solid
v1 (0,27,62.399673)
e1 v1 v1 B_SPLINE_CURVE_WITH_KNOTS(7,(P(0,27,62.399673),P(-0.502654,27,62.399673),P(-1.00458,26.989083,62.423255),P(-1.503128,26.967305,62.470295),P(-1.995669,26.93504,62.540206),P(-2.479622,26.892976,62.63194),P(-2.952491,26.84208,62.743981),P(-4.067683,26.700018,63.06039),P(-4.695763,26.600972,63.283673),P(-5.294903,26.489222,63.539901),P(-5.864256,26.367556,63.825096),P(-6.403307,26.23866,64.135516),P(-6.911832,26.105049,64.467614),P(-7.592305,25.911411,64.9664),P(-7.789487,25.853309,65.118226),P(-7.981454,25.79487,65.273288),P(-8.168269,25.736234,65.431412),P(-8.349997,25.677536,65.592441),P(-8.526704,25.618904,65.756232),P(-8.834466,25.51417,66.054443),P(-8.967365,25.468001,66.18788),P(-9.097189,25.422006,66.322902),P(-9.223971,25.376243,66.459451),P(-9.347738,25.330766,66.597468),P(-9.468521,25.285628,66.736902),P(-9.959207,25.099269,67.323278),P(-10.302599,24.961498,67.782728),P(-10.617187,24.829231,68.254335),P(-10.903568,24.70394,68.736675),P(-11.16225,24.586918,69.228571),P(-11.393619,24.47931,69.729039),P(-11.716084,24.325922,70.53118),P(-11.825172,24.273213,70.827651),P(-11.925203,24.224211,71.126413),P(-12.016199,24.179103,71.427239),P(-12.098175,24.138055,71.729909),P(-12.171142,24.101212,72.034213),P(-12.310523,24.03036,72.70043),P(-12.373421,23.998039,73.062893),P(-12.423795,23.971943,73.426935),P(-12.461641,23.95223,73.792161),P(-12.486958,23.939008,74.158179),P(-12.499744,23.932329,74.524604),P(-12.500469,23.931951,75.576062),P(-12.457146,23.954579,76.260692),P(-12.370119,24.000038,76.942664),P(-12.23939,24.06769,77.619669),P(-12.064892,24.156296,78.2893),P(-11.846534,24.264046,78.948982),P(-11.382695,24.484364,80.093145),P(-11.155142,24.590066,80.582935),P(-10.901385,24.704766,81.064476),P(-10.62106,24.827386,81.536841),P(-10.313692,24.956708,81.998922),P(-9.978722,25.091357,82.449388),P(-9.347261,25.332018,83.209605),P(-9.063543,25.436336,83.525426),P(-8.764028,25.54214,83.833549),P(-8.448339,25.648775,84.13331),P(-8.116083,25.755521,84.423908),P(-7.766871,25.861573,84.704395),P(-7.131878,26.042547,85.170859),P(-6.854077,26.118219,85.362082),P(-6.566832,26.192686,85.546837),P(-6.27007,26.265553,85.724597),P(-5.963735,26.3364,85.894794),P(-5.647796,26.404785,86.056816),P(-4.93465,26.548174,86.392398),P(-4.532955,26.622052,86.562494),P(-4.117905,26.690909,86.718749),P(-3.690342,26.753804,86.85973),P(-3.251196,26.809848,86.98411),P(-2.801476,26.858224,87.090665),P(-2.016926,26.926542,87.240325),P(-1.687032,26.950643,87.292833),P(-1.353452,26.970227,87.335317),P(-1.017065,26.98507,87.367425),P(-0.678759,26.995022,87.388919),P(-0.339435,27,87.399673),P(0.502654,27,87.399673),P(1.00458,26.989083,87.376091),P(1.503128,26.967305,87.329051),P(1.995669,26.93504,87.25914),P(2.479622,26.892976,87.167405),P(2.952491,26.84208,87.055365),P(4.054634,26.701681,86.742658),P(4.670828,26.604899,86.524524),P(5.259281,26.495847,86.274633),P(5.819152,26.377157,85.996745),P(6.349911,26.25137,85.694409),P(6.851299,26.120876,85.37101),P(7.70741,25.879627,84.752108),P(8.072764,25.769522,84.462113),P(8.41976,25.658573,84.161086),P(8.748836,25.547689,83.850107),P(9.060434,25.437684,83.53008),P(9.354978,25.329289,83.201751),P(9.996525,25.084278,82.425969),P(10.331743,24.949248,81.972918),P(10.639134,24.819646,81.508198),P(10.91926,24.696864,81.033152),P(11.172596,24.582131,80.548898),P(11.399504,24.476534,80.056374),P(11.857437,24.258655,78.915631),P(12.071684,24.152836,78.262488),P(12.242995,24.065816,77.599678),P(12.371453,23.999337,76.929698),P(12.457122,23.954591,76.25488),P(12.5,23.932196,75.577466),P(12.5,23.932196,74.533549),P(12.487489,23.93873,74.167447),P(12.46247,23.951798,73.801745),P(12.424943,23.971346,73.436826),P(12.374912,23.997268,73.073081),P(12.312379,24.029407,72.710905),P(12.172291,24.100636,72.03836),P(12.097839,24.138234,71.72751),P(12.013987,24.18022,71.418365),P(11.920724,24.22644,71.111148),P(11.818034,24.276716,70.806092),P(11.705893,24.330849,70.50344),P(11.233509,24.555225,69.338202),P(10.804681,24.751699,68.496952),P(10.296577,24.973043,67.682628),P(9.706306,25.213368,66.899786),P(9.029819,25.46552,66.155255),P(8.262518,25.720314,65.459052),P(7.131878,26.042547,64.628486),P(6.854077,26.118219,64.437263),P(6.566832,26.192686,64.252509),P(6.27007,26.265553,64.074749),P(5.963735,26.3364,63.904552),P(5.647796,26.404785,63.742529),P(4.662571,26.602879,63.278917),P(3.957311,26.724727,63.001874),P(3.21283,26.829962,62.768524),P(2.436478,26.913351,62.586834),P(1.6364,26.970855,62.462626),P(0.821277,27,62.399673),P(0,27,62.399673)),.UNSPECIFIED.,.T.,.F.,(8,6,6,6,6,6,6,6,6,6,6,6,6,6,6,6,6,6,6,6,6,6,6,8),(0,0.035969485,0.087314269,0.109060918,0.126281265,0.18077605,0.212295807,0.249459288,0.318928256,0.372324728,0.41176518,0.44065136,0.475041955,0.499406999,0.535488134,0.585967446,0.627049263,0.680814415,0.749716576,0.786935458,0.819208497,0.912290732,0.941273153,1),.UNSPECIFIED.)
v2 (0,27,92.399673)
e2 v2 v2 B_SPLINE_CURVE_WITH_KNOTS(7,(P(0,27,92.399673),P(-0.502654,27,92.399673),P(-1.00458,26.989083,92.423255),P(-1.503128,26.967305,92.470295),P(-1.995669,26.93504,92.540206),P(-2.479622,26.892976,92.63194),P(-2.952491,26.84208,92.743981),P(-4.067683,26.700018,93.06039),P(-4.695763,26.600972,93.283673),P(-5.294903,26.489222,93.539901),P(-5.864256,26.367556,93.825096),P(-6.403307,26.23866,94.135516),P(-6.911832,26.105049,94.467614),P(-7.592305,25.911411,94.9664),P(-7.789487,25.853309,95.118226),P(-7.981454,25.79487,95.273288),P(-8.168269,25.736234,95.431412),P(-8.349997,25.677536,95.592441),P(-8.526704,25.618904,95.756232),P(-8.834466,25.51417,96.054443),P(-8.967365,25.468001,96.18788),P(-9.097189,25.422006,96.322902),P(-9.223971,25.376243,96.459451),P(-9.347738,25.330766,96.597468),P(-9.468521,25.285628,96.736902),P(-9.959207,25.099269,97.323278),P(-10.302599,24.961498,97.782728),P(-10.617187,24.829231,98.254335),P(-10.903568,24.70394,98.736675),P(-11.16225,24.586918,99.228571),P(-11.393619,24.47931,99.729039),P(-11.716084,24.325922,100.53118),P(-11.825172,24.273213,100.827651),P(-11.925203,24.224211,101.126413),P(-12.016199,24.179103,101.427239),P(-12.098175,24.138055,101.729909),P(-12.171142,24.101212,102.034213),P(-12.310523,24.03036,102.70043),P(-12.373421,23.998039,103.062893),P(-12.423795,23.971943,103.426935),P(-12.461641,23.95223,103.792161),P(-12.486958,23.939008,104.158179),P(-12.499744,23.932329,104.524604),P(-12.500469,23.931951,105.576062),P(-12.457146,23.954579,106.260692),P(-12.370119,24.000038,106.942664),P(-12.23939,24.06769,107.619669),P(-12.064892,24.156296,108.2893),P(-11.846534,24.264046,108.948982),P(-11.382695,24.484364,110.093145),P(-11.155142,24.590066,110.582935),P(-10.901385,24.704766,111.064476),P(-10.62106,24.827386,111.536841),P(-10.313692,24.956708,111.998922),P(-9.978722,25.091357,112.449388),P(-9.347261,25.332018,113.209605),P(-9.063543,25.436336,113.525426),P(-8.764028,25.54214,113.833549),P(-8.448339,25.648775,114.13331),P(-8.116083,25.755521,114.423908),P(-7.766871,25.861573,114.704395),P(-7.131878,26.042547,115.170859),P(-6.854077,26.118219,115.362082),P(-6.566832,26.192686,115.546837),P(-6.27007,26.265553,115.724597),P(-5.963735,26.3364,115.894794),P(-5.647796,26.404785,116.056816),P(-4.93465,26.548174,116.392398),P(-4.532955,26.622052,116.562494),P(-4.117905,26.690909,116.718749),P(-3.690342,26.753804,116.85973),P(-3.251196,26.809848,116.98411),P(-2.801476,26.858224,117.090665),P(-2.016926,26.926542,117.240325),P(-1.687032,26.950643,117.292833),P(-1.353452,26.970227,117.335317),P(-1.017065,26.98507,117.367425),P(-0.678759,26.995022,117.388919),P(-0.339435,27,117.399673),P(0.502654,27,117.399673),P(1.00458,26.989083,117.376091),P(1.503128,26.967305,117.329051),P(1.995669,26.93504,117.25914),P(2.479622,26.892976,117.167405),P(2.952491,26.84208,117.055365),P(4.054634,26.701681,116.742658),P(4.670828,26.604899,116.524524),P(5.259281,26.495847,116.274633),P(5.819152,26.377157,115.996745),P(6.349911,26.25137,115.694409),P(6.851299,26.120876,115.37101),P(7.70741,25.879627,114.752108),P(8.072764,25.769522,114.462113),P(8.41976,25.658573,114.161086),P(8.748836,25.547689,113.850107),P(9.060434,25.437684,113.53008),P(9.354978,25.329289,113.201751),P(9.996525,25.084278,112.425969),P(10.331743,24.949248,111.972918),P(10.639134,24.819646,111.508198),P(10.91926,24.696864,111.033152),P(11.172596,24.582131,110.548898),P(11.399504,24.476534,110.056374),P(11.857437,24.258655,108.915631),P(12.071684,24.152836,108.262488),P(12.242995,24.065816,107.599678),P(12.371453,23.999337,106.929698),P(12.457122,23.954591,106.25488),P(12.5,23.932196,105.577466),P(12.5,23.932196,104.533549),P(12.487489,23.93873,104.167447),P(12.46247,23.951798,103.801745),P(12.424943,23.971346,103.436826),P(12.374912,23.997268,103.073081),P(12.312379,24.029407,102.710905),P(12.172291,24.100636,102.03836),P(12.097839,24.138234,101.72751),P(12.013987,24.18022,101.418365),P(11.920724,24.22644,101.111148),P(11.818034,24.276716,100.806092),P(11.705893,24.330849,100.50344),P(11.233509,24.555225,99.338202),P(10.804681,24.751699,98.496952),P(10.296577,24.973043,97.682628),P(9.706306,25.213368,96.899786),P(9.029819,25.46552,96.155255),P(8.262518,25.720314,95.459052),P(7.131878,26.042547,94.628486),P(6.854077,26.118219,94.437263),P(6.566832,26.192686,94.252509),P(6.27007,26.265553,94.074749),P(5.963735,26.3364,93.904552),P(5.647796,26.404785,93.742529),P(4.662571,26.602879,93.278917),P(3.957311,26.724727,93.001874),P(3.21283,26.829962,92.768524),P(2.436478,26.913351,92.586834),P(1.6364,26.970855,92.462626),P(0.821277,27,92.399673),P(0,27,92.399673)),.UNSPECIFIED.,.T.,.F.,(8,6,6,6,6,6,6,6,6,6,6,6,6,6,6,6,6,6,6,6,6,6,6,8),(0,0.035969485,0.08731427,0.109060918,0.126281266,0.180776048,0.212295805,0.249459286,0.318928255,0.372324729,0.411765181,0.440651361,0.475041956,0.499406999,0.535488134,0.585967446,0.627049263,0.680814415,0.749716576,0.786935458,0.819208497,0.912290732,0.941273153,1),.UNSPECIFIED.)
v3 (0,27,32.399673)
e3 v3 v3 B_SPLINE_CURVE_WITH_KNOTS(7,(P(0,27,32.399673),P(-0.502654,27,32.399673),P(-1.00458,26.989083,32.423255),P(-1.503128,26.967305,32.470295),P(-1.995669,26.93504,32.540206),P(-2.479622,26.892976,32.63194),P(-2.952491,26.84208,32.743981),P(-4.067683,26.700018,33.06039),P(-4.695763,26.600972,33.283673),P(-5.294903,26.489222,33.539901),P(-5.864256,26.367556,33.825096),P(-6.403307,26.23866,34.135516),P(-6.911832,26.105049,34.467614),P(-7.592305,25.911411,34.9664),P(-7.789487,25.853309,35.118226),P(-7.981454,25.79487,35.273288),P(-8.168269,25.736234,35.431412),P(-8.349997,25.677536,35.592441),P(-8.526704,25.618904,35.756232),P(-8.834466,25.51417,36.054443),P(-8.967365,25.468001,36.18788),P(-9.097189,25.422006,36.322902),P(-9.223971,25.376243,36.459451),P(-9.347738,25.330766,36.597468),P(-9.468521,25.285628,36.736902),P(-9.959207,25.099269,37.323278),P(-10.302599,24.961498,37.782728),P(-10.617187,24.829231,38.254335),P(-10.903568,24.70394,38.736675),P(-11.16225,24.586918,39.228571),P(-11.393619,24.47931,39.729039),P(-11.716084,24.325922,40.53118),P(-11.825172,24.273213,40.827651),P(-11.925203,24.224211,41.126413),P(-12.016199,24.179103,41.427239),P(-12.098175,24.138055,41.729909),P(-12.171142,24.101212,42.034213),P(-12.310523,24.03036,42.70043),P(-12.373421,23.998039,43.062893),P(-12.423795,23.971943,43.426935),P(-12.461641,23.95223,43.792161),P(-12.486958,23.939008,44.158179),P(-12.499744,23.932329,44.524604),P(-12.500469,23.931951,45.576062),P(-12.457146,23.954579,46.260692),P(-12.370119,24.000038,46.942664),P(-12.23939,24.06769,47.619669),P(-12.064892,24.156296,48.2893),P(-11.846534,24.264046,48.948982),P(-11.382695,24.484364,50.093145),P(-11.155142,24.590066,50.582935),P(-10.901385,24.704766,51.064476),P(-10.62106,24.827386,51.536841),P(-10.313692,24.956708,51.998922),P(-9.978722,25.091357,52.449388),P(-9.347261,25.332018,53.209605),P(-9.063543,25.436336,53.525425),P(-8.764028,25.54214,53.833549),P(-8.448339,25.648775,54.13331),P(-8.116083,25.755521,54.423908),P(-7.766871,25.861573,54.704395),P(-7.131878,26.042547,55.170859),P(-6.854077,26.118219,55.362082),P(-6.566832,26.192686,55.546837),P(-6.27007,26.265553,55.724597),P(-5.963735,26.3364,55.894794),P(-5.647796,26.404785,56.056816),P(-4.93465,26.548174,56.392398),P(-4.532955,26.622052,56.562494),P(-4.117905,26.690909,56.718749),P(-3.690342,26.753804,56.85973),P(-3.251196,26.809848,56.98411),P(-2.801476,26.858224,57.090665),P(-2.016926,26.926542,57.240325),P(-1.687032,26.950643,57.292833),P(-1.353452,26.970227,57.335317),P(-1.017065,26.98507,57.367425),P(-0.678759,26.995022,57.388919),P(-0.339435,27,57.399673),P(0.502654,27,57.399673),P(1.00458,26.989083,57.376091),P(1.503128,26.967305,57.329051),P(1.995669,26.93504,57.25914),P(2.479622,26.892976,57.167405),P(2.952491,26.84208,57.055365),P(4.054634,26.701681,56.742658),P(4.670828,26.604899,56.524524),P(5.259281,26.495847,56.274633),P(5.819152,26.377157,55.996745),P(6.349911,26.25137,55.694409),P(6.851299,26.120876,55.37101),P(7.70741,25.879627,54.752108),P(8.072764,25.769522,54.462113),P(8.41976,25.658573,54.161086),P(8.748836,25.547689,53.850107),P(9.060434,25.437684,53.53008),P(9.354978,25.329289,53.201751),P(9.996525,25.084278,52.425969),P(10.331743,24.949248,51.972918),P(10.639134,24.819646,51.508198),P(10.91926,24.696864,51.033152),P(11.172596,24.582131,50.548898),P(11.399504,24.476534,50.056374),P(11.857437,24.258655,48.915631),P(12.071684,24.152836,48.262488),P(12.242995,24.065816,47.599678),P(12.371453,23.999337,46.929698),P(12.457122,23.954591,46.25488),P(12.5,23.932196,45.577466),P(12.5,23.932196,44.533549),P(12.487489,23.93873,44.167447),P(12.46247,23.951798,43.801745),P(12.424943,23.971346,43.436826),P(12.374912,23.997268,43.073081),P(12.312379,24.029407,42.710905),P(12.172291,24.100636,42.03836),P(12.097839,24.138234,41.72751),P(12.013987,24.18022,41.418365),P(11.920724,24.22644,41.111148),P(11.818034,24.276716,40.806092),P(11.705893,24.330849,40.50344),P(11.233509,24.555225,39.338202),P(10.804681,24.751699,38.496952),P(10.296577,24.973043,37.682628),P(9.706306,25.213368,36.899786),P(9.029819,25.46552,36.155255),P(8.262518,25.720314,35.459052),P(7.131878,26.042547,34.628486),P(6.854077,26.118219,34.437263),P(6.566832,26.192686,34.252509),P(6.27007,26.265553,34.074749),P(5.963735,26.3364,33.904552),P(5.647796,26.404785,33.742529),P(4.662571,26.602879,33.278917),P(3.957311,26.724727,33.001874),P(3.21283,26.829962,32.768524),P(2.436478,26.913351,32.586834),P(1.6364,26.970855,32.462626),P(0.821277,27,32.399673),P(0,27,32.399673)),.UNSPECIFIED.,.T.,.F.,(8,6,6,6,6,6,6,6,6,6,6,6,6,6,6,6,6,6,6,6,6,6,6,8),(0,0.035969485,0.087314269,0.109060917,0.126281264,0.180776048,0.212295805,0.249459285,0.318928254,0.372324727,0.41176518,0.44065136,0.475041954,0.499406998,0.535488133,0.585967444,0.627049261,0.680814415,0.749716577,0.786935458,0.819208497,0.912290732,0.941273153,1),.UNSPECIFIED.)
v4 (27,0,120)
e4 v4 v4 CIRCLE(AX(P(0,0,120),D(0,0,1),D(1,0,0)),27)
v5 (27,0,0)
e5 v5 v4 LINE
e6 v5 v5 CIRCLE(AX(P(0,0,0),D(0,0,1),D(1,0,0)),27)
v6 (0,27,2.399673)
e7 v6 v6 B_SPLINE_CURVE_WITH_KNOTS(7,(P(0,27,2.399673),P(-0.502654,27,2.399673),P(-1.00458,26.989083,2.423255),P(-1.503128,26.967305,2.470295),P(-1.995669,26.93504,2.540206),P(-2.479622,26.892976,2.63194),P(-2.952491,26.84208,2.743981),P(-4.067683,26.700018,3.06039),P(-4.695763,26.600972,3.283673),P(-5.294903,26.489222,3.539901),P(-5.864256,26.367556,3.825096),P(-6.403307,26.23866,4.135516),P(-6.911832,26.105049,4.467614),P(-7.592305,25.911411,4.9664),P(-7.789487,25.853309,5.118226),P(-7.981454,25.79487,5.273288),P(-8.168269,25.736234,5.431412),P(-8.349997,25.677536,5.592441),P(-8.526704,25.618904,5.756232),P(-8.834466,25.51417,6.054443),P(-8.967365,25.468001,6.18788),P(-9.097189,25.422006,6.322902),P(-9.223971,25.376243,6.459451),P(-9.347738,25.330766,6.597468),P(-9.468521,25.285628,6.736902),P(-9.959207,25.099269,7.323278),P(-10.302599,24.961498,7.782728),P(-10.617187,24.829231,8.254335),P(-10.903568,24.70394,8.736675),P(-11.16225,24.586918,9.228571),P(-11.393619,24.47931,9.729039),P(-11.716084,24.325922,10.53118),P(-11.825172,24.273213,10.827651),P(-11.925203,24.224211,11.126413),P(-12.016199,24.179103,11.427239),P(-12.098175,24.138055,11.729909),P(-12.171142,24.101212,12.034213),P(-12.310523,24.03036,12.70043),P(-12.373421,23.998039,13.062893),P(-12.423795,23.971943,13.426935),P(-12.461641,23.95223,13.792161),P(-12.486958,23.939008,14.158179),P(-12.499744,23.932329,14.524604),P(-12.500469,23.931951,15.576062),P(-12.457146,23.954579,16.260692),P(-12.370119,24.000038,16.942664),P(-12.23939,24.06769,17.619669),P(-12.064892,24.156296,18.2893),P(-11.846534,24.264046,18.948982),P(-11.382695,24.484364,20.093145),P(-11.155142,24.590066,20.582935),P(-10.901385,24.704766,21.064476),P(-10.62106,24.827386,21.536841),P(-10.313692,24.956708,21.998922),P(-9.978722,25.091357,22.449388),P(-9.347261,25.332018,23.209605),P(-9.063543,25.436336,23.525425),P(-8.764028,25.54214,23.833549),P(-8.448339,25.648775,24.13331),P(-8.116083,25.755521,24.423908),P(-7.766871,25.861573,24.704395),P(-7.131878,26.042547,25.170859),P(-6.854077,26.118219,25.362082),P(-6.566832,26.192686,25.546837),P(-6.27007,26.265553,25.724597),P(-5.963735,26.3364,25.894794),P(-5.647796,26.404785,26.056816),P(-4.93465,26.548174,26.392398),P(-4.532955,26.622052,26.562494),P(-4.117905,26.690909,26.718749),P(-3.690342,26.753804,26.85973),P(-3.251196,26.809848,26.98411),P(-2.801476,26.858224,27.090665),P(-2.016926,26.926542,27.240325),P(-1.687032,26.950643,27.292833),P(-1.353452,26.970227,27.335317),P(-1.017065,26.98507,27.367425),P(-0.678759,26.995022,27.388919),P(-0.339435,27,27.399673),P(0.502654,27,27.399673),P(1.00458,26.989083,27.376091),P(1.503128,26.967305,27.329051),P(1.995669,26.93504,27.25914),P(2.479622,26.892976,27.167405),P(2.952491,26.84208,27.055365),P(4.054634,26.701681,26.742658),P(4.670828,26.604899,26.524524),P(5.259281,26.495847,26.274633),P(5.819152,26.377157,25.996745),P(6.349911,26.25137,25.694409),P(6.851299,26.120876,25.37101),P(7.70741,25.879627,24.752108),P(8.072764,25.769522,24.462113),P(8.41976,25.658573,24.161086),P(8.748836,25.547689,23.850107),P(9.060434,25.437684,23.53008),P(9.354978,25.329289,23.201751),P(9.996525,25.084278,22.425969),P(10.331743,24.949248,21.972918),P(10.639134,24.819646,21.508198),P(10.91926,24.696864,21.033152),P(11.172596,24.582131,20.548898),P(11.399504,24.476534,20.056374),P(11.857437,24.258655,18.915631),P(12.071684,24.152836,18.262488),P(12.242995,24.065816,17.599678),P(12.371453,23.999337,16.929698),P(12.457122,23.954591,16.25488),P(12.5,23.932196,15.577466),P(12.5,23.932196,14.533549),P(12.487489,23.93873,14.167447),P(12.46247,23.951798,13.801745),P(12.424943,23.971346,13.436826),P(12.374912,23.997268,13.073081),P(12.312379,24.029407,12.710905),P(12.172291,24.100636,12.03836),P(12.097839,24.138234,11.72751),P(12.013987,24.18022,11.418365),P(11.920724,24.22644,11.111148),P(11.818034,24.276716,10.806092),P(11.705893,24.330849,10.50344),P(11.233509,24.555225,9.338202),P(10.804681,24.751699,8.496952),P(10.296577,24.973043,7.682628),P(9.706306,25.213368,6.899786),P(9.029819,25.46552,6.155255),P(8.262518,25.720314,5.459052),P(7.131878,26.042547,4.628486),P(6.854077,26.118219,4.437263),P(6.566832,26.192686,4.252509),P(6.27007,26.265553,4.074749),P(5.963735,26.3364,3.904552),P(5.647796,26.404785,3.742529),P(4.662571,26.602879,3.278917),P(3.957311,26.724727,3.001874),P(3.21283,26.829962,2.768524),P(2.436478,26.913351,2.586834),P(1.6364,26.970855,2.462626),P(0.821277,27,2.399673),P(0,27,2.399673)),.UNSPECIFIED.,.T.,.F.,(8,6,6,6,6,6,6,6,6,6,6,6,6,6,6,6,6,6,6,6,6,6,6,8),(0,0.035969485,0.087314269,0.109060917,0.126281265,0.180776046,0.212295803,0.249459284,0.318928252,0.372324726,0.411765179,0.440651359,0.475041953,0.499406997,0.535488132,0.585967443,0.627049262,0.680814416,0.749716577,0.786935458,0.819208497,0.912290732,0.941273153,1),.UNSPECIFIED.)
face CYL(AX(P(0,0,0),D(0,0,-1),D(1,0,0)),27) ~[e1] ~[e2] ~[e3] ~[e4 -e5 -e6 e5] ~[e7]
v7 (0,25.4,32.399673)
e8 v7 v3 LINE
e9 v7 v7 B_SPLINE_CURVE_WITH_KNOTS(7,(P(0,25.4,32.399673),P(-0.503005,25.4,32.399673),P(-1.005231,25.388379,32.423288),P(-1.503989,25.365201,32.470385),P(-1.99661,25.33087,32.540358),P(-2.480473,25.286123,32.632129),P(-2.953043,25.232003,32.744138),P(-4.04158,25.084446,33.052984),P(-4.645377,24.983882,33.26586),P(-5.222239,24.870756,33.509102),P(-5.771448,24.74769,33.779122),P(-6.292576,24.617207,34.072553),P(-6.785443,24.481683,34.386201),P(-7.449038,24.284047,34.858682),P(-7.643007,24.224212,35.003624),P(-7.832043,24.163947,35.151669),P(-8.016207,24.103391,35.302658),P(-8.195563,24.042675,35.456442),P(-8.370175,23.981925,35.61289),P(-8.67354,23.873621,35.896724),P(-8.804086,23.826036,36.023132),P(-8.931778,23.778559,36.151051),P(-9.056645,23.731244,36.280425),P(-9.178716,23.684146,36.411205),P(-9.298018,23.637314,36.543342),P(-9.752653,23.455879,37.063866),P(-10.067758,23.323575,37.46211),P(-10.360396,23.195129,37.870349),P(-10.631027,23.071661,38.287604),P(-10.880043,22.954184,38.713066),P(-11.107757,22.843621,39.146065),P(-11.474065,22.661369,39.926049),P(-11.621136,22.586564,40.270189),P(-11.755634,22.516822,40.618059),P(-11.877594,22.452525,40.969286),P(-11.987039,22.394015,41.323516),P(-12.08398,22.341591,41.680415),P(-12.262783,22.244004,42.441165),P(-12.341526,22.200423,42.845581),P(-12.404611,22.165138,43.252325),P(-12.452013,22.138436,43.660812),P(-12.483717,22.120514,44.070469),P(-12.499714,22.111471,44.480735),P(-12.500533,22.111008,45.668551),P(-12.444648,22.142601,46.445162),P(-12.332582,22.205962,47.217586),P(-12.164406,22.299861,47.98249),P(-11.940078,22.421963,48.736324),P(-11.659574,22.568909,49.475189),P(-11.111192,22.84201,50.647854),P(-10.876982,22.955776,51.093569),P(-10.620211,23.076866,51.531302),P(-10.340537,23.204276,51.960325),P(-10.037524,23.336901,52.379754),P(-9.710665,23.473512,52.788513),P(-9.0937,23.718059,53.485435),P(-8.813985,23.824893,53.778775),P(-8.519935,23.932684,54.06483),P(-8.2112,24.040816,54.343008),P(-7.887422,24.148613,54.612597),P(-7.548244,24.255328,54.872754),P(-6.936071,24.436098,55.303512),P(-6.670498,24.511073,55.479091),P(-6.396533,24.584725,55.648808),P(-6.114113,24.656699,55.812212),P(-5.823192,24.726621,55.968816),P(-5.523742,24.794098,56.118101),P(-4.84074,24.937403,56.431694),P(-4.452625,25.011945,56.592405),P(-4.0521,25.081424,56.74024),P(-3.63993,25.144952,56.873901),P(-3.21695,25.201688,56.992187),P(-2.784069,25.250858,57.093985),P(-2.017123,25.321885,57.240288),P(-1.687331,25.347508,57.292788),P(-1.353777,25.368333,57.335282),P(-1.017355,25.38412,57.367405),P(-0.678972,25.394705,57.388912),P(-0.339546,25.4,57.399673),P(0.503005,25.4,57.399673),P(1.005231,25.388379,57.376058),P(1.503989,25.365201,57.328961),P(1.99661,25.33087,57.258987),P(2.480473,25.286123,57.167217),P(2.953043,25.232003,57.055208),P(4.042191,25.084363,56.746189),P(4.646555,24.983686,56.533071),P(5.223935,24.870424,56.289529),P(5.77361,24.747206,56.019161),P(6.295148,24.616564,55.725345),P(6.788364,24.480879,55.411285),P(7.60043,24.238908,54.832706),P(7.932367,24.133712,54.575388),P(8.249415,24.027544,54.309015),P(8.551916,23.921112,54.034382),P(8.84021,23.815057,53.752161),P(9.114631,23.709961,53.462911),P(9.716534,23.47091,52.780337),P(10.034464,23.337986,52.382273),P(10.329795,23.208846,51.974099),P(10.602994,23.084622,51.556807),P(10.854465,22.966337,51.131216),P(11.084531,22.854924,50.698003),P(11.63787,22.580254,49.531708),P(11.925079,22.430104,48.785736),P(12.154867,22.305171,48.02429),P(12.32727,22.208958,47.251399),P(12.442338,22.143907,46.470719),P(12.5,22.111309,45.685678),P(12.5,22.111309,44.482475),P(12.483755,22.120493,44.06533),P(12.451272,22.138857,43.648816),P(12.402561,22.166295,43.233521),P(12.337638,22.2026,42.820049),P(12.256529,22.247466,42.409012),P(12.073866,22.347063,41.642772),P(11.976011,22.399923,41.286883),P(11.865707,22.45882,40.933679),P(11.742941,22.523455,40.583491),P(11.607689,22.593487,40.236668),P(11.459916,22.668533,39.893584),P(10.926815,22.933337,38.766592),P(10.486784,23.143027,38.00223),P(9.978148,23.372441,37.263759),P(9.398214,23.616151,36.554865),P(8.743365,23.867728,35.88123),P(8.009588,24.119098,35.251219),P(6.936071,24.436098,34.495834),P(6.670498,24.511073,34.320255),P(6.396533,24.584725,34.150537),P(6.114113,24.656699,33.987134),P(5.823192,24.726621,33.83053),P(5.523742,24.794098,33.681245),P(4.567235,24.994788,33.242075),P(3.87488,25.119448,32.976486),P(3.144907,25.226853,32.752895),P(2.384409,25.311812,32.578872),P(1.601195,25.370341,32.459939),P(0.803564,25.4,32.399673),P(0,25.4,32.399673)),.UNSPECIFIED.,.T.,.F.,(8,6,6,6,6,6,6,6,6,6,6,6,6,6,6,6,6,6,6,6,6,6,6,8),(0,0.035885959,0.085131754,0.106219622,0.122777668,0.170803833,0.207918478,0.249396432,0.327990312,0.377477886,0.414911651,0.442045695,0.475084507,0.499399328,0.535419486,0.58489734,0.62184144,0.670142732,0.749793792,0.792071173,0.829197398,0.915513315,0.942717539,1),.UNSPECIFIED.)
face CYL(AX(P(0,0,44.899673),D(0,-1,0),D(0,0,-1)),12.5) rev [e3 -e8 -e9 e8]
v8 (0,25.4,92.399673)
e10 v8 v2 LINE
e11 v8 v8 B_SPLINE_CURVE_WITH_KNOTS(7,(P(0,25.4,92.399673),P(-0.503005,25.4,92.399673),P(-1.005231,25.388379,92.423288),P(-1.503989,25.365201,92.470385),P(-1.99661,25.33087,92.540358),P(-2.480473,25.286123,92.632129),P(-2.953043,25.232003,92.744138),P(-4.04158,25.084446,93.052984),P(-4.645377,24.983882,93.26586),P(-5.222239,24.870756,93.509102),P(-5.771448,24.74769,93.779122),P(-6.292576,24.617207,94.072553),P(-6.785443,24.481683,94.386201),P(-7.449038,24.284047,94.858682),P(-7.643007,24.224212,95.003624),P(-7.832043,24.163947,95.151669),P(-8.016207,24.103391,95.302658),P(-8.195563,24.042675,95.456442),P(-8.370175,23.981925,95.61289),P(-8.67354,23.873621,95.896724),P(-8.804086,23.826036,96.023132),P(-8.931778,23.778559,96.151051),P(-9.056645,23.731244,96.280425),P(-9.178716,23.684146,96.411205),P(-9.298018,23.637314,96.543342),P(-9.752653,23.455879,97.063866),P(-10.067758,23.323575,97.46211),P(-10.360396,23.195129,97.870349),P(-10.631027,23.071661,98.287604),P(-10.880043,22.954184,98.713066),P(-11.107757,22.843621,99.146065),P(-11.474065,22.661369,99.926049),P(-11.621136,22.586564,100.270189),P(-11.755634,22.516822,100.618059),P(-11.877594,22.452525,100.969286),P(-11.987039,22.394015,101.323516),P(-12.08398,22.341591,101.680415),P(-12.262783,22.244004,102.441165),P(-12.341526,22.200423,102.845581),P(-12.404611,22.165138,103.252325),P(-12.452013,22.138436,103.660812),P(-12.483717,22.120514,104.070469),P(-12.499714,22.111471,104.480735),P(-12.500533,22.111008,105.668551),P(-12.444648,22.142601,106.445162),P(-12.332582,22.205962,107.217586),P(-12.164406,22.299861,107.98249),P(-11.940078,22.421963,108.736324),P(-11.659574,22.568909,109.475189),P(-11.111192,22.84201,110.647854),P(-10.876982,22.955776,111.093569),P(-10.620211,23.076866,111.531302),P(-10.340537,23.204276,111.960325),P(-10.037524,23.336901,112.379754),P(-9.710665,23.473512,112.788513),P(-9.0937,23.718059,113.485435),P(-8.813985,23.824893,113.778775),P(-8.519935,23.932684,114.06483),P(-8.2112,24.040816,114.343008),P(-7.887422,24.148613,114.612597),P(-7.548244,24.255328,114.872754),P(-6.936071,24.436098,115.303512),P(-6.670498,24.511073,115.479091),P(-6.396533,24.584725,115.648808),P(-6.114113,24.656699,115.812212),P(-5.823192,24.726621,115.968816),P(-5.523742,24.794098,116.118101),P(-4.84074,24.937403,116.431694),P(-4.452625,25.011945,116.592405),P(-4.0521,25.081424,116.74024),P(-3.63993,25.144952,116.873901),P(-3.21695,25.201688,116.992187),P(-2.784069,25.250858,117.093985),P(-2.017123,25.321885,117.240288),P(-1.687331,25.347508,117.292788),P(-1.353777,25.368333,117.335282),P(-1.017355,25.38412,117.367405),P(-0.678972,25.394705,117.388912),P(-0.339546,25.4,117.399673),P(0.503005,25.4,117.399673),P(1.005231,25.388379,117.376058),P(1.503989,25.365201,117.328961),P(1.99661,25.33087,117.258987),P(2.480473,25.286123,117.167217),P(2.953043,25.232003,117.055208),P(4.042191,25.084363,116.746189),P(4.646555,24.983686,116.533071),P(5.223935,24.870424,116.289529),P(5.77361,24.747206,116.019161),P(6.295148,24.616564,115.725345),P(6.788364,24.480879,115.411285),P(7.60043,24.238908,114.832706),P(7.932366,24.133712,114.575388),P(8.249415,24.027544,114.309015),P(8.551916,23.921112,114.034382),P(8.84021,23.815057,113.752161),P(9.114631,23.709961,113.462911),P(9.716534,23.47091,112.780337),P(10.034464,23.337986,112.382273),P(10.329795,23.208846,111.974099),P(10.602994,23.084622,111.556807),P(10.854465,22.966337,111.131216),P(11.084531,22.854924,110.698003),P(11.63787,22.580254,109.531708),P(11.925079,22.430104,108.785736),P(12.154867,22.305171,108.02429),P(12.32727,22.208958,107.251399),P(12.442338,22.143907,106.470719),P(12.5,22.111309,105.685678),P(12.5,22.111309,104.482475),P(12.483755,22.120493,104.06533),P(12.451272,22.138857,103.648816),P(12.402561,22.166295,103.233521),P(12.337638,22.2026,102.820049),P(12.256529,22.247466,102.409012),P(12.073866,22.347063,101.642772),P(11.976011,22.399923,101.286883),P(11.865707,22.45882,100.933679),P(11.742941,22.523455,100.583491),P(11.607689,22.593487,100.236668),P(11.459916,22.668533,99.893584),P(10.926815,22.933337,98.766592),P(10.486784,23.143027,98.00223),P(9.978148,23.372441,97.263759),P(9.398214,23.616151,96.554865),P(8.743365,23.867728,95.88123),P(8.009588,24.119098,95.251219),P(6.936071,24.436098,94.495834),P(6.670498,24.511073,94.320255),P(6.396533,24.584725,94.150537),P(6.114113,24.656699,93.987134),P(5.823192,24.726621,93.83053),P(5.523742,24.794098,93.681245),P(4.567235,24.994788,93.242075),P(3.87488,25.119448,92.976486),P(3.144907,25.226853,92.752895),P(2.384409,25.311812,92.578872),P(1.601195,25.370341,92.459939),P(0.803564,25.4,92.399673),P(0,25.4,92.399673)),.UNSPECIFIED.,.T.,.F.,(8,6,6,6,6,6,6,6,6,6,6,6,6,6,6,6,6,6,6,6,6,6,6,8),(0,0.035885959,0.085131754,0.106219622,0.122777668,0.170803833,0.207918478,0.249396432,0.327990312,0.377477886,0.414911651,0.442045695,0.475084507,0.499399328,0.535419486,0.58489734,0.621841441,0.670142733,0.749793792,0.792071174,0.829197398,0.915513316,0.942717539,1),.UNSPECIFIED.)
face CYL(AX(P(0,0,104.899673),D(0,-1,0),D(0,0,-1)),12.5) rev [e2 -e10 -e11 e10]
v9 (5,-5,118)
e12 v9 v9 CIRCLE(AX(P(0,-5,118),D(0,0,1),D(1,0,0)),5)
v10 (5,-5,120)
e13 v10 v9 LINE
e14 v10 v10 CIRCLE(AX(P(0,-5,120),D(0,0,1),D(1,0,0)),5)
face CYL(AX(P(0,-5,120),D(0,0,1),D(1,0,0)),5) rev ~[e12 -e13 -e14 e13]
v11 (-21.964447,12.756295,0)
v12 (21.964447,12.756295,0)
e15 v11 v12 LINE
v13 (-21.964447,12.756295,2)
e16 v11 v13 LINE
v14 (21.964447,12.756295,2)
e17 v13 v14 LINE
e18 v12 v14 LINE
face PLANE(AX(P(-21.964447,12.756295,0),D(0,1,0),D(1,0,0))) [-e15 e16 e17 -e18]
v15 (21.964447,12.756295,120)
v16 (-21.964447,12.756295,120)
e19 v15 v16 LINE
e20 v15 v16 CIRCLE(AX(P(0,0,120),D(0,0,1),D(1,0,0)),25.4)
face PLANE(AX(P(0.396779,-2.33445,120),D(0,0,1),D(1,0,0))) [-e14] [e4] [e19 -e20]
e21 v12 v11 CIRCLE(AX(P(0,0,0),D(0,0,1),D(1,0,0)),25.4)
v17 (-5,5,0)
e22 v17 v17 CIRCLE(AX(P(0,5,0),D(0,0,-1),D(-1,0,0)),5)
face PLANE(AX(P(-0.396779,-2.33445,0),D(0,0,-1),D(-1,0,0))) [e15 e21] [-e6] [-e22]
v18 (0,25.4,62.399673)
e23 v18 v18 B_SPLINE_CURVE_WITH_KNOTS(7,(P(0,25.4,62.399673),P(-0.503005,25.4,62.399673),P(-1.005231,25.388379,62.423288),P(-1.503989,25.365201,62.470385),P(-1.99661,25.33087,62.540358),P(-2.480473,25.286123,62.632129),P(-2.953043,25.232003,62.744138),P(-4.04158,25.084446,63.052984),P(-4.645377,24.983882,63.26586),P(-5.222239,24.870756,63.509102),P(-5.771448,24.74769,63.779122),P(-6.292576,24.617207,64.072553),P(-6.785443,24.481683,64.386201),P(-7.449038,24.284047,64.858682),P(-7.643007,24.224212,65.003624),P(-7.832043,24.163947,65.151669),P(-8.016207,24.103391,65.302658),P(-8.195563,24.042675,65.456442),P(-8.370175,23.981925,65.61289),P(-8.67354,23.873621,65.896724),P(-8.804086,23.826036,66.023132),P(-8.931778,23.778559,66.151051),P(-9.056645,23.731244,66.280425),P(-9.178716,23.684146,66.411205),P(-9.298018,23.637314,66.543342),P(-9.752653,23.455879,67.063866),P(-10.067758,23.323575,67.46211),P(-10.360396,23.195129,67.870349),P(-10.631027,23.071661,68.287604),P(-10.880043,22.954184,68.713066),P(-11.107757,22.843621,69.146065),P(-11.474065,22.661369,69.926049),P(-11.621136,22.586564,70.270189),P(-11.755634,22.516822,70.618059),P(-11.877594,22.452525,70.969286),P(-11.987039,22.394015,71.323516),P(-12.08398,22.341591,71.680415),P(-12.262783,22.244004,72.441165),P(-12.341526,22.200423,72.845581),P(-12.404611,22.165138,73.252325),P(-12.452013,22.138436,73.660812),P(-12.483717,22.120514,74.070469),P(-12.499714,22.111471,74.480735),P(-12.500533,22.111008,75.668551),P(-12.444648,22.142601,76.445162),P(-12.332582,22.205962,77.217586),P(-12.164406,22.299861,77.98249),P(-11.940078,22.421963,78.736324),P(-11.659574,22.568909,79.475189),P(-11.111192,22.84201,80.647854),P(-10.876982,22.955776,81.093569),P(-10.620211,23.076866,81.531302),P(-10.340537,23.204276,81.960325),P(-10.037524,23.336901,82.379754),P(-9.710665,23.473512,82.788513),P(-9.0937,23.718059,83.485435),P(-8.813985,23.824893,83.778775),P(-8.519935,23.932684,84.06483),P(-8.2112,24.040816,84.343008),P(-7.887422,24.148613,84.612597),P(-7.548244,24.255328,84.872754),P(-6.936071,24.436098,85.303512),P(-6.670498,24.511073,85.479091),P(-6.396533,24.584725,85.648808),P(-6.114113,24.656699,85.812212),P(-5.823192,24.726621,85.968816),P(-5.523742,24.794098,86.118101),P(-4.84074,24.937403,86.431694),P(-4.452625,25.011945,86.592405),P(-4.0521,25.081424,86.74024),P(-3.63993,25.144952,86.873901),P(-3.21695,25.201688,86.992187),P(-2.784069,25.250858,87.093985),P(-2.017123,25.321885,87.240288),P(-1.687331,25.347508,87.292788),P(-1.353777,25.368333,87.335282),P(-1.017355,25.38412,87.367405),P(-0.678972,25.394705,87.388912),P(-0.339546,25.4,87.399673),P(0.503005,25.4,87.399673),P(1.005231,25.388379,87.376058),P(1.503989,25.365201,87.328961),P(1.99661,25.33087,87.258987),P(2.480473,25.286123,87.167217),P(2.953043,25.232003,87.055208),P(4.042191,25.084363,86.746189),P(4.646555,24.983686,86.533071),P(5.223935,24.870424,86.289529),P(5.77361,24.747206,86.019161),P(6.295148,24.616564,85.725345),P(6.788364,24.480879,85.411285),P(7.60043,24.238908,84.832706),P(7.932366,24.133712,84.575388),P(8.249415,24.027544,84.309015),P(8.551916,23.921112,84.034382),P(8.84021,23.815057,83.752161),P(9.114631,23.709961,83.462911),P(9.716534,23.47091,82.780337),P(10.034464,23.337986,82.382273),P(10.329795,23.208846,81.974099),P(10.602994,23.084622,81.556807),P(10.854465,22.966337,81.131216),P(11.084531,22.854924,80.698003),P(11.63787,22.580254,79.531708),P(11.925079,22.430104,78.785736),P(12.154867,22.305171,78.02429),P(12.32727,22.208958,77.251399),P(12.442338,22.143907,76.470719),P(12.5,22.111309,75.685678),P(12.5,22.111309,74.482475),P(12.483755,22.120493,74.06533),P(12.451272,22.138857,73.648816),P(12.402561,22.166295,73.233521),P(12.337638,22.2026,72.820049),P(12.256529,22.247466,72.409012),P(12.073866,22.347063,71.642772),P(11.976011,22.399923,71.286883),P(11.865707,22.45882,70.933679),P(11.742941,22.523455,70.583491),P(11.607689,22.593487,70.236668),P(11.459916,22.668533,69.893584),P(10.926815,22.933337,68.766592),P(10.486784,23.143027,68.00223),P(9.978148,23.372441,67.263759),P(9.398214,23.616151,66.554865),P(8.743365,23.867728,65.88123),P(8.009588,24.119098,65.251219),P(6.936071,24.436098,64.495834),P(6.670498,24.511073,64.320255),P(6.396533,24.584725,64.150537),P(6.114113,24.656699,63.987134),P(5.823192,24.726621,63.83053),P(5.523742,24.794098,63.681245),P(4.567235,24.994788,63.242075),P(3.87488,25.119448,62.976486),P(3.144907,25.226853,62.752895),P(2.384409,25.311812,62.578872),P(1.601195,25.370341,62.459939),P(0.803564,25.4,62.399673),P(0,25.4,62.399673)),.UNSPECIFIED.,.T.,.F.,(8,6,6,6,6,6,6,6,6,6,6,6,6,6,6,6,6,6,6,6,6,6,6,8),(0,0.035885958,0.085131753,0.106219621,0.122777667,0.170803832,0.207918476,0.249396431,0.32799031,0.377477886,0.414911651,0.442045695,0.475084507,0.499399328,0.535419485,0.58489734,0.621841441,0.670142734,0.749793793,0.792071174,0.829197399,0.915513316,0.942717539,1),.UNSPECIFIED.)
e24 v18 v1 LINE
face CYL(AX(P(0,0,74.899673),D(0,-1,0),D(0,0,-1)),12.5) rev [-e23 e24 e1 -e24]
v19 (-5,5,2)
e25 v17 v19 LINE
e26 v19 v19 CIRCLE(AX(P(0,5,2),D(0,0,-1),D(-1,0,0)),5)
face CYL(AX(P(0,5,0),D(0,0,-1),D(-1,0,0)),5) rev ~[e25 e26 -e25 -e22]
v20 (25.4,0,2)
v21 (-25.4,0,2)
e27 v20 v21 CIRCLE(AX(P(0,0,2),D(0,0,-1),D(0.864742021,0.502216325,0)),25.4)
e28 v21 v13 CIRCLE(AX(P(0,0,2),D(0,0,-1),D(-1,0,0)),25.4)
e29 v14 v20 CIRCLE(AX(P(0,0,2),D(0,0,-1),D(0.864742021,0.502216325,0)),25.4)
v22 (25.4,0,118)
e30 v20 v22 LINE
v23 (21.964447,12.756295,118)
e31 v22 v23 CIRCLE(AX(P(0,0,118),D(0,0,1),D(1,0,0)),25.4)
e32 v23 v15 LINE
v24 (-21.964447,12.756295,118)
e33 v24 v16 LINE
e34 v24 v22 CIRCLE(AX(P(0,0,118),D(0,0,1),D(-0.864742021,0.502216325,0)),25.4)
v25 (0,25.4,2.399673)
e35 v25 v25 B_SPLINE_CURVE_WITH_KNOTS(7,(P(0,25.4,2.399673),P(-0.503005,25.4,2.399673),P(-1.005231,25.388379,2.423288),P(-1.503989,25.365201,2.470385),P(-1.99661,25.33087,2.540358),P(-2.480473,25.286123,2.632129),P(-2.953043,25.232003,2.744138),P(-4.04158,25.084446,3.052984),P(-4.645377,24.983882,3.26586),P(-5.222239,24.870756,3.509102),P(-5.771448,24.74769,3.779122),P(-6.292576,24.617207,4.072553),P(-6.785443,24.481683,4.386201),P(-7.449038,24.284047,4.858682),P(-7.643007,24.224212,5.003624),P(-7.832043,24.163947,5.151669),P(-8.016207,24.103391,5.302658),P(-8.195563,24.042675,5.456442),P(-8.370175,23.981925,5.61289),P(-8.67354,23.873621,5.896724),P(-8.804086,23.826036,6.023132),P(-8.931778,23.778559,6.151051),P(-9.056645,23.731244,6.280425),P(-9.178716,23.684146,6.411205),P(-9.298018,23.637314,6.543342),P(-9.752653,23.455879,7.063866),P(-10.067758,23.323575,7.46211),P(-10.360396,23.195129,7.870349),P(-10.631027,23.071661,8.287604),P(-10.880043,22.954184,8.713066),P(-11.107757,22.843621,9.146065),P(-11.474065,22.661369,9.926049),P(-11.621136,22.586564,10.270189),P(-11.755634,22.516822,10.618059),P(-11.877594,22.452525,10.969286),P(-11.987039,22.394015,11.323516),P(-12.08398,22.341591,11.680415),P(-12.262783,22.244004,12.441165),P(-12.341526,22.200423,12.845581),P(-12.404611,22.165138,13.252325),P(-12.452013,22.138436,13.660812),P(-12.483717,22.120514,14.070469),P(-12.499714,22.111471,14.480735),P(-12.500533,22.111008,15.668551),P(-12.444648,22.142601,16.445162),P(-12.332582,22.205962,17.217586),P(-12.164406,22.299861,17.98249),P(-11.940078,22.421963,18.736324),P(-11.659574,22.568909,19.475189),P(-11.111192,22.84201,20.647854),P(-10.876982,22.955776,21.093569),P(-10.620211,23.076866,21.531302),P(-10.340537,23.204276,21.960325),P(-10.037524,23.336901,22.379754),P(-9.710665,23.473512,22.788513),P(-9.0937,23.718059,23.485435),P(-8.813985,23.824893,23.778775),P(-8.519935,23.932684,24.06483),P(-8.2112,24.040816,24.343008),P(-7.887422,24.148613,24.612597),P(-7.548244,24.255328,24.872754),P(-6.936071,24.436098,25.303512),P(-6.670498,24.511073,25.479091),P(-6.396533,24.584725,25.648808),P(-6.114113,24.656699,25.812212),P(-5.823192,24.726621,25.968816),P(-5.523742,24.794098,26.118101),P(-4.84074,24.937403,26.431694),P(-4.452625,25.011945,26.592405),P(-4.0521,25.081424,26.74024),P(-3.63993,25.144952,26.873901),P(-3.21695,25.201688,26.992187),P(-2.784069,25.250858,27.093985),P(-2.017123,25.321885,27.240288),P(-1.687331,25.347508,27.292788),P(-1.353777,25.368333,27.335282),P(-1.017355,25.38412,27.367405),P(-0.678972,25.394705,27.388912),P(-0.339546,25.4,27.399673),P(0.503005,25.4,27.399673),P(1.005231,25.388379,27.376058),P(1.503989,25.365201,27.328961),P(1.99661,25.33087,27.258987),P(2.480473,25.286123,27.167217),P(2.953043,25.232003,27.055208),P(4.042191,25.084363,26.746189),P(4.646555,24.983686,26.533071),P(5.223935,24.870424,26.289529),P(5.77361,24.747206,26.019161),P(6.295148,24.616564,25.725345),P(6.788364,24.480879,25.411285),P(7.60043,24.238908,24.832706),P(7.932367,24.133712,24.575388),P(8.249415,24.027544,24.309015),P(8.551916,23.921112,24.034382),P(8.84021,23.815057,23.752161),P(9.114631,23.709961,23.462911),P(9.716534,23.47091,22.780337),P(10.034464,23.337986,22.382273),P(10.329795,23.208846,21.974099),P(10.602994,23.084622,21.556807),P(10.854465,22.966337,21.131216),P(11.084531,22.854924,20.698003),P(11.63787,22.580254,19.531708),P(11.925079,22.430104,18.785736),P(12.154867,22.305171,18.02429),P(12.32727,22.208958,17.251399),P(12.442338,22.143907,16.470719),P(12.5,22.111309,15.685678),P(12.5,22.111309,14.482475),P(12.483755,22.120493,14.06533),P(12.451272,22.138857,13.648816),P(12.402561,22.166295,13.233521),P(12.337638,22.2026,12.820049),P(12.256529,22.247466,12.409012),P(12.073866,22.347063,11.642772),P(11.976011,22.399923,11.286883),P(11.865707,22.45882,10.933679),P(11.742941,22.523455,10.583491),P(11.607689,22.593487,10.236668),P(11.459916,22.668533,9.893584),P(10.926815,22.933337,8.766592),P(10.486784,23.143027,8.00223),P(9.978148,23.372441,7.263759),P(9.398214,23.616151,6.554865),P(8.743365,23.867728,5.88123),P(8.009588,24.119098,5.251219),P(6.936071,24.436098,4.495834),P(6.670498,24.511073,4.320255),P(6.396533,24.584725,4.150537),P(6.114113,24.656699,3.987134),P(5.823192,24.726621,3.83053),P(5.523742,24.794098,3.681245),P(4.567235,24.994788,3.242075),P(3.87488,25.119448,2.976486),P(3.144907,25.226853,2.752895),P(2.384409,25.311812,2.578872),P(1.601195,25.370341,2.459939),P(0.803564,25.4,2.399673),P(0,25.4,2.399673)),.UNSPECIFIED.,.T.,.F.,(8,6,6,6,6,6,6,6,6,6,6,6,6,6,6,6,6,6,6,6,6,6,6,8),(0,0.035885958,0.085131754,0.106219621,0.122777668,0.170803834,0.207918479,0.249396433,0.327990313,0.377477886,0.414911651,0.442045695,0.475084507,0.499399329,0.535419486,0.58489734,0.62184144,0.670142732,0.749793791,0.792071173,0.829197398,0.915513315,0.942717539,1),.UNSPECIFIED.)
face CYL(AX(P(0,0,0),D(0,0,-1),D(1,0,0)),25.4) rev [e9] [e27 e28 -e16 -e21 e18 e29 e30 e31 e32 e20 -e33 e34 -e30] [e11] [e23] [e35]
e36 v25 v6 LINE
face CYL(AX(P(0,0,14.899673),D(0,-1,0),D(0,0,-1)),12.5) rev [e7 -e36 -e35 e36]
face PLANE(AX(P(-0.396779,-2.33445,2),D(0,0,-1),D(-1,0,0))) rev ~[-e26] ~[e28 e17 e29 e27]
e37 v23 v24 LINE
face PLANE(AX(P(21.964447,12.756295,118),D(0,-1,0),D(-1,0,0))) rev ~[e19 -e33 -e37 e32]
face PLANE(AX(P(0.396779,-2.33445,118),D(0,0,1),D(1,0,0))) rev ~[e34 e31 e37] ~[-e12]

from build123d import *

# Parameters (mm, degrees)
SKETCH1_R           = 27
SKETCH1_R_2         = 25.4
EXTRUDE_THIN1_DEPTH = 120
BOSS_EXTRUDE1_START = -2
BOSS_EXTRUDE1_DEPTH = 2
BOSS_EXTRUDE2_DEPTH = 2
SKETCH4_R           = 12.5
CUT_EXTRUDE2_DEPTH  = 31
SKETCH5_R           = 5
CUT_EXTRUDE3_DEPTH  = 18
SKETCH6_R           = 5
CUT_EXTRUDE4_DEPTH  = 18


with BuildPart() as part:
    # Sketch1 → Extrude-Thin1 (new body)
    with BuildSketch(Plane.XY):
        Circle(SKETCH1_R)
        Circle(SKETCH1_R_2, mode=Mode.SUBTRACT)
    extrude(amount=EXTRUDE_THIN1_DEPTH)

    # Sketch2 → Boss-Extrude1 (add)
    with BuildSketch(Plane.XY.offset(120).offset(BOSS_EXTRUDE1_START)):
        with BuildLine():
            Line((21.964447337, 12.756294649), (-21.964447337, 12.756294649))
            ThreePointArc((-21.964447337, 12.756294649), (-6.60541587, -24.526077574), (25.4, 0))
            ThreePointArc((25.4, 0), (24.526077574, 6.60541587), (21.964447337, 12.756294649))
        make_face()
    extrude(amount=BOSS_EXTRUDE1_DEPTH)

    # Sketch3 → Boss-Extrude2 (add)
    with BuildSketch(Plane(origin=(0, 0, 0), x_dir=(-1, 0, 0), z_dir=(0, 0, -1))):
        with BuildLine():
            ThreePointArc((25.4, 0), (24.526077574, 6.60541587), (21.964447337, 12.756294649))
            Line((21.964447337, 12.756294649), (-21.964447337, 12.756294649))
            ThreePointArc((-21.964447337, 12.756294649), (-6.60541587, -24.526077574), (25.4, 0))
        make_face()
    extrude(amount=-BOSS_EXTRUDE2_DEPTH)

    # Sketch4 → Cut-Extrude2 (cut)
    with BuildSketch(Plane(origin=(0, 0, 0), x_dir=(1, 0, 0), z_dir=(0, 1, 0))):
        with Locations(Location((0, -14.899672821, 0), (0, 0, 90))):
            Circle(SKETCH4_R)
        with Locations(Location((0, -44.899672821, 0), (0, 0, 90))):
            Circle(SKETCH4_R)
        with Locations(Location((0, -74.899672821, 0), (0, 0, 90))):
            Circle(SKETCH4_R)
        with Locations(Location((0, -104.899672821, 0), (0, 0, 90))):
            Circle(SKETCH4_R)
    extrude(amount=CUT_EXTRUDE2_DEPTH, mode=Mode.SUBTRACT)

    # Sketch5 → Cut-Extrude3 (cut)
    with BuildSketch(Plane(origin=(0, 0, 0), x_dir=(-1, 0, 0), z_dir=(0, 0, -1))):
        with Locations((0, 5)):
            Circle(SKETCH5_R)
    extrude(amount=-CUT_EXTRUDE3_DEPTH, mode=Mode.SUBTRACT)

    # Sketch6 → Cut-Extrude4 (cut)
    with BuildSketch(Plane.XY.offset(120)):
        with Locations((0, -5)):
            Circle(SKETCH6_R)
    extrude(amount=-CUT_EXTRUDE4_DEPTH, mode=Mode.SUBTRACT)


solid = part.part
